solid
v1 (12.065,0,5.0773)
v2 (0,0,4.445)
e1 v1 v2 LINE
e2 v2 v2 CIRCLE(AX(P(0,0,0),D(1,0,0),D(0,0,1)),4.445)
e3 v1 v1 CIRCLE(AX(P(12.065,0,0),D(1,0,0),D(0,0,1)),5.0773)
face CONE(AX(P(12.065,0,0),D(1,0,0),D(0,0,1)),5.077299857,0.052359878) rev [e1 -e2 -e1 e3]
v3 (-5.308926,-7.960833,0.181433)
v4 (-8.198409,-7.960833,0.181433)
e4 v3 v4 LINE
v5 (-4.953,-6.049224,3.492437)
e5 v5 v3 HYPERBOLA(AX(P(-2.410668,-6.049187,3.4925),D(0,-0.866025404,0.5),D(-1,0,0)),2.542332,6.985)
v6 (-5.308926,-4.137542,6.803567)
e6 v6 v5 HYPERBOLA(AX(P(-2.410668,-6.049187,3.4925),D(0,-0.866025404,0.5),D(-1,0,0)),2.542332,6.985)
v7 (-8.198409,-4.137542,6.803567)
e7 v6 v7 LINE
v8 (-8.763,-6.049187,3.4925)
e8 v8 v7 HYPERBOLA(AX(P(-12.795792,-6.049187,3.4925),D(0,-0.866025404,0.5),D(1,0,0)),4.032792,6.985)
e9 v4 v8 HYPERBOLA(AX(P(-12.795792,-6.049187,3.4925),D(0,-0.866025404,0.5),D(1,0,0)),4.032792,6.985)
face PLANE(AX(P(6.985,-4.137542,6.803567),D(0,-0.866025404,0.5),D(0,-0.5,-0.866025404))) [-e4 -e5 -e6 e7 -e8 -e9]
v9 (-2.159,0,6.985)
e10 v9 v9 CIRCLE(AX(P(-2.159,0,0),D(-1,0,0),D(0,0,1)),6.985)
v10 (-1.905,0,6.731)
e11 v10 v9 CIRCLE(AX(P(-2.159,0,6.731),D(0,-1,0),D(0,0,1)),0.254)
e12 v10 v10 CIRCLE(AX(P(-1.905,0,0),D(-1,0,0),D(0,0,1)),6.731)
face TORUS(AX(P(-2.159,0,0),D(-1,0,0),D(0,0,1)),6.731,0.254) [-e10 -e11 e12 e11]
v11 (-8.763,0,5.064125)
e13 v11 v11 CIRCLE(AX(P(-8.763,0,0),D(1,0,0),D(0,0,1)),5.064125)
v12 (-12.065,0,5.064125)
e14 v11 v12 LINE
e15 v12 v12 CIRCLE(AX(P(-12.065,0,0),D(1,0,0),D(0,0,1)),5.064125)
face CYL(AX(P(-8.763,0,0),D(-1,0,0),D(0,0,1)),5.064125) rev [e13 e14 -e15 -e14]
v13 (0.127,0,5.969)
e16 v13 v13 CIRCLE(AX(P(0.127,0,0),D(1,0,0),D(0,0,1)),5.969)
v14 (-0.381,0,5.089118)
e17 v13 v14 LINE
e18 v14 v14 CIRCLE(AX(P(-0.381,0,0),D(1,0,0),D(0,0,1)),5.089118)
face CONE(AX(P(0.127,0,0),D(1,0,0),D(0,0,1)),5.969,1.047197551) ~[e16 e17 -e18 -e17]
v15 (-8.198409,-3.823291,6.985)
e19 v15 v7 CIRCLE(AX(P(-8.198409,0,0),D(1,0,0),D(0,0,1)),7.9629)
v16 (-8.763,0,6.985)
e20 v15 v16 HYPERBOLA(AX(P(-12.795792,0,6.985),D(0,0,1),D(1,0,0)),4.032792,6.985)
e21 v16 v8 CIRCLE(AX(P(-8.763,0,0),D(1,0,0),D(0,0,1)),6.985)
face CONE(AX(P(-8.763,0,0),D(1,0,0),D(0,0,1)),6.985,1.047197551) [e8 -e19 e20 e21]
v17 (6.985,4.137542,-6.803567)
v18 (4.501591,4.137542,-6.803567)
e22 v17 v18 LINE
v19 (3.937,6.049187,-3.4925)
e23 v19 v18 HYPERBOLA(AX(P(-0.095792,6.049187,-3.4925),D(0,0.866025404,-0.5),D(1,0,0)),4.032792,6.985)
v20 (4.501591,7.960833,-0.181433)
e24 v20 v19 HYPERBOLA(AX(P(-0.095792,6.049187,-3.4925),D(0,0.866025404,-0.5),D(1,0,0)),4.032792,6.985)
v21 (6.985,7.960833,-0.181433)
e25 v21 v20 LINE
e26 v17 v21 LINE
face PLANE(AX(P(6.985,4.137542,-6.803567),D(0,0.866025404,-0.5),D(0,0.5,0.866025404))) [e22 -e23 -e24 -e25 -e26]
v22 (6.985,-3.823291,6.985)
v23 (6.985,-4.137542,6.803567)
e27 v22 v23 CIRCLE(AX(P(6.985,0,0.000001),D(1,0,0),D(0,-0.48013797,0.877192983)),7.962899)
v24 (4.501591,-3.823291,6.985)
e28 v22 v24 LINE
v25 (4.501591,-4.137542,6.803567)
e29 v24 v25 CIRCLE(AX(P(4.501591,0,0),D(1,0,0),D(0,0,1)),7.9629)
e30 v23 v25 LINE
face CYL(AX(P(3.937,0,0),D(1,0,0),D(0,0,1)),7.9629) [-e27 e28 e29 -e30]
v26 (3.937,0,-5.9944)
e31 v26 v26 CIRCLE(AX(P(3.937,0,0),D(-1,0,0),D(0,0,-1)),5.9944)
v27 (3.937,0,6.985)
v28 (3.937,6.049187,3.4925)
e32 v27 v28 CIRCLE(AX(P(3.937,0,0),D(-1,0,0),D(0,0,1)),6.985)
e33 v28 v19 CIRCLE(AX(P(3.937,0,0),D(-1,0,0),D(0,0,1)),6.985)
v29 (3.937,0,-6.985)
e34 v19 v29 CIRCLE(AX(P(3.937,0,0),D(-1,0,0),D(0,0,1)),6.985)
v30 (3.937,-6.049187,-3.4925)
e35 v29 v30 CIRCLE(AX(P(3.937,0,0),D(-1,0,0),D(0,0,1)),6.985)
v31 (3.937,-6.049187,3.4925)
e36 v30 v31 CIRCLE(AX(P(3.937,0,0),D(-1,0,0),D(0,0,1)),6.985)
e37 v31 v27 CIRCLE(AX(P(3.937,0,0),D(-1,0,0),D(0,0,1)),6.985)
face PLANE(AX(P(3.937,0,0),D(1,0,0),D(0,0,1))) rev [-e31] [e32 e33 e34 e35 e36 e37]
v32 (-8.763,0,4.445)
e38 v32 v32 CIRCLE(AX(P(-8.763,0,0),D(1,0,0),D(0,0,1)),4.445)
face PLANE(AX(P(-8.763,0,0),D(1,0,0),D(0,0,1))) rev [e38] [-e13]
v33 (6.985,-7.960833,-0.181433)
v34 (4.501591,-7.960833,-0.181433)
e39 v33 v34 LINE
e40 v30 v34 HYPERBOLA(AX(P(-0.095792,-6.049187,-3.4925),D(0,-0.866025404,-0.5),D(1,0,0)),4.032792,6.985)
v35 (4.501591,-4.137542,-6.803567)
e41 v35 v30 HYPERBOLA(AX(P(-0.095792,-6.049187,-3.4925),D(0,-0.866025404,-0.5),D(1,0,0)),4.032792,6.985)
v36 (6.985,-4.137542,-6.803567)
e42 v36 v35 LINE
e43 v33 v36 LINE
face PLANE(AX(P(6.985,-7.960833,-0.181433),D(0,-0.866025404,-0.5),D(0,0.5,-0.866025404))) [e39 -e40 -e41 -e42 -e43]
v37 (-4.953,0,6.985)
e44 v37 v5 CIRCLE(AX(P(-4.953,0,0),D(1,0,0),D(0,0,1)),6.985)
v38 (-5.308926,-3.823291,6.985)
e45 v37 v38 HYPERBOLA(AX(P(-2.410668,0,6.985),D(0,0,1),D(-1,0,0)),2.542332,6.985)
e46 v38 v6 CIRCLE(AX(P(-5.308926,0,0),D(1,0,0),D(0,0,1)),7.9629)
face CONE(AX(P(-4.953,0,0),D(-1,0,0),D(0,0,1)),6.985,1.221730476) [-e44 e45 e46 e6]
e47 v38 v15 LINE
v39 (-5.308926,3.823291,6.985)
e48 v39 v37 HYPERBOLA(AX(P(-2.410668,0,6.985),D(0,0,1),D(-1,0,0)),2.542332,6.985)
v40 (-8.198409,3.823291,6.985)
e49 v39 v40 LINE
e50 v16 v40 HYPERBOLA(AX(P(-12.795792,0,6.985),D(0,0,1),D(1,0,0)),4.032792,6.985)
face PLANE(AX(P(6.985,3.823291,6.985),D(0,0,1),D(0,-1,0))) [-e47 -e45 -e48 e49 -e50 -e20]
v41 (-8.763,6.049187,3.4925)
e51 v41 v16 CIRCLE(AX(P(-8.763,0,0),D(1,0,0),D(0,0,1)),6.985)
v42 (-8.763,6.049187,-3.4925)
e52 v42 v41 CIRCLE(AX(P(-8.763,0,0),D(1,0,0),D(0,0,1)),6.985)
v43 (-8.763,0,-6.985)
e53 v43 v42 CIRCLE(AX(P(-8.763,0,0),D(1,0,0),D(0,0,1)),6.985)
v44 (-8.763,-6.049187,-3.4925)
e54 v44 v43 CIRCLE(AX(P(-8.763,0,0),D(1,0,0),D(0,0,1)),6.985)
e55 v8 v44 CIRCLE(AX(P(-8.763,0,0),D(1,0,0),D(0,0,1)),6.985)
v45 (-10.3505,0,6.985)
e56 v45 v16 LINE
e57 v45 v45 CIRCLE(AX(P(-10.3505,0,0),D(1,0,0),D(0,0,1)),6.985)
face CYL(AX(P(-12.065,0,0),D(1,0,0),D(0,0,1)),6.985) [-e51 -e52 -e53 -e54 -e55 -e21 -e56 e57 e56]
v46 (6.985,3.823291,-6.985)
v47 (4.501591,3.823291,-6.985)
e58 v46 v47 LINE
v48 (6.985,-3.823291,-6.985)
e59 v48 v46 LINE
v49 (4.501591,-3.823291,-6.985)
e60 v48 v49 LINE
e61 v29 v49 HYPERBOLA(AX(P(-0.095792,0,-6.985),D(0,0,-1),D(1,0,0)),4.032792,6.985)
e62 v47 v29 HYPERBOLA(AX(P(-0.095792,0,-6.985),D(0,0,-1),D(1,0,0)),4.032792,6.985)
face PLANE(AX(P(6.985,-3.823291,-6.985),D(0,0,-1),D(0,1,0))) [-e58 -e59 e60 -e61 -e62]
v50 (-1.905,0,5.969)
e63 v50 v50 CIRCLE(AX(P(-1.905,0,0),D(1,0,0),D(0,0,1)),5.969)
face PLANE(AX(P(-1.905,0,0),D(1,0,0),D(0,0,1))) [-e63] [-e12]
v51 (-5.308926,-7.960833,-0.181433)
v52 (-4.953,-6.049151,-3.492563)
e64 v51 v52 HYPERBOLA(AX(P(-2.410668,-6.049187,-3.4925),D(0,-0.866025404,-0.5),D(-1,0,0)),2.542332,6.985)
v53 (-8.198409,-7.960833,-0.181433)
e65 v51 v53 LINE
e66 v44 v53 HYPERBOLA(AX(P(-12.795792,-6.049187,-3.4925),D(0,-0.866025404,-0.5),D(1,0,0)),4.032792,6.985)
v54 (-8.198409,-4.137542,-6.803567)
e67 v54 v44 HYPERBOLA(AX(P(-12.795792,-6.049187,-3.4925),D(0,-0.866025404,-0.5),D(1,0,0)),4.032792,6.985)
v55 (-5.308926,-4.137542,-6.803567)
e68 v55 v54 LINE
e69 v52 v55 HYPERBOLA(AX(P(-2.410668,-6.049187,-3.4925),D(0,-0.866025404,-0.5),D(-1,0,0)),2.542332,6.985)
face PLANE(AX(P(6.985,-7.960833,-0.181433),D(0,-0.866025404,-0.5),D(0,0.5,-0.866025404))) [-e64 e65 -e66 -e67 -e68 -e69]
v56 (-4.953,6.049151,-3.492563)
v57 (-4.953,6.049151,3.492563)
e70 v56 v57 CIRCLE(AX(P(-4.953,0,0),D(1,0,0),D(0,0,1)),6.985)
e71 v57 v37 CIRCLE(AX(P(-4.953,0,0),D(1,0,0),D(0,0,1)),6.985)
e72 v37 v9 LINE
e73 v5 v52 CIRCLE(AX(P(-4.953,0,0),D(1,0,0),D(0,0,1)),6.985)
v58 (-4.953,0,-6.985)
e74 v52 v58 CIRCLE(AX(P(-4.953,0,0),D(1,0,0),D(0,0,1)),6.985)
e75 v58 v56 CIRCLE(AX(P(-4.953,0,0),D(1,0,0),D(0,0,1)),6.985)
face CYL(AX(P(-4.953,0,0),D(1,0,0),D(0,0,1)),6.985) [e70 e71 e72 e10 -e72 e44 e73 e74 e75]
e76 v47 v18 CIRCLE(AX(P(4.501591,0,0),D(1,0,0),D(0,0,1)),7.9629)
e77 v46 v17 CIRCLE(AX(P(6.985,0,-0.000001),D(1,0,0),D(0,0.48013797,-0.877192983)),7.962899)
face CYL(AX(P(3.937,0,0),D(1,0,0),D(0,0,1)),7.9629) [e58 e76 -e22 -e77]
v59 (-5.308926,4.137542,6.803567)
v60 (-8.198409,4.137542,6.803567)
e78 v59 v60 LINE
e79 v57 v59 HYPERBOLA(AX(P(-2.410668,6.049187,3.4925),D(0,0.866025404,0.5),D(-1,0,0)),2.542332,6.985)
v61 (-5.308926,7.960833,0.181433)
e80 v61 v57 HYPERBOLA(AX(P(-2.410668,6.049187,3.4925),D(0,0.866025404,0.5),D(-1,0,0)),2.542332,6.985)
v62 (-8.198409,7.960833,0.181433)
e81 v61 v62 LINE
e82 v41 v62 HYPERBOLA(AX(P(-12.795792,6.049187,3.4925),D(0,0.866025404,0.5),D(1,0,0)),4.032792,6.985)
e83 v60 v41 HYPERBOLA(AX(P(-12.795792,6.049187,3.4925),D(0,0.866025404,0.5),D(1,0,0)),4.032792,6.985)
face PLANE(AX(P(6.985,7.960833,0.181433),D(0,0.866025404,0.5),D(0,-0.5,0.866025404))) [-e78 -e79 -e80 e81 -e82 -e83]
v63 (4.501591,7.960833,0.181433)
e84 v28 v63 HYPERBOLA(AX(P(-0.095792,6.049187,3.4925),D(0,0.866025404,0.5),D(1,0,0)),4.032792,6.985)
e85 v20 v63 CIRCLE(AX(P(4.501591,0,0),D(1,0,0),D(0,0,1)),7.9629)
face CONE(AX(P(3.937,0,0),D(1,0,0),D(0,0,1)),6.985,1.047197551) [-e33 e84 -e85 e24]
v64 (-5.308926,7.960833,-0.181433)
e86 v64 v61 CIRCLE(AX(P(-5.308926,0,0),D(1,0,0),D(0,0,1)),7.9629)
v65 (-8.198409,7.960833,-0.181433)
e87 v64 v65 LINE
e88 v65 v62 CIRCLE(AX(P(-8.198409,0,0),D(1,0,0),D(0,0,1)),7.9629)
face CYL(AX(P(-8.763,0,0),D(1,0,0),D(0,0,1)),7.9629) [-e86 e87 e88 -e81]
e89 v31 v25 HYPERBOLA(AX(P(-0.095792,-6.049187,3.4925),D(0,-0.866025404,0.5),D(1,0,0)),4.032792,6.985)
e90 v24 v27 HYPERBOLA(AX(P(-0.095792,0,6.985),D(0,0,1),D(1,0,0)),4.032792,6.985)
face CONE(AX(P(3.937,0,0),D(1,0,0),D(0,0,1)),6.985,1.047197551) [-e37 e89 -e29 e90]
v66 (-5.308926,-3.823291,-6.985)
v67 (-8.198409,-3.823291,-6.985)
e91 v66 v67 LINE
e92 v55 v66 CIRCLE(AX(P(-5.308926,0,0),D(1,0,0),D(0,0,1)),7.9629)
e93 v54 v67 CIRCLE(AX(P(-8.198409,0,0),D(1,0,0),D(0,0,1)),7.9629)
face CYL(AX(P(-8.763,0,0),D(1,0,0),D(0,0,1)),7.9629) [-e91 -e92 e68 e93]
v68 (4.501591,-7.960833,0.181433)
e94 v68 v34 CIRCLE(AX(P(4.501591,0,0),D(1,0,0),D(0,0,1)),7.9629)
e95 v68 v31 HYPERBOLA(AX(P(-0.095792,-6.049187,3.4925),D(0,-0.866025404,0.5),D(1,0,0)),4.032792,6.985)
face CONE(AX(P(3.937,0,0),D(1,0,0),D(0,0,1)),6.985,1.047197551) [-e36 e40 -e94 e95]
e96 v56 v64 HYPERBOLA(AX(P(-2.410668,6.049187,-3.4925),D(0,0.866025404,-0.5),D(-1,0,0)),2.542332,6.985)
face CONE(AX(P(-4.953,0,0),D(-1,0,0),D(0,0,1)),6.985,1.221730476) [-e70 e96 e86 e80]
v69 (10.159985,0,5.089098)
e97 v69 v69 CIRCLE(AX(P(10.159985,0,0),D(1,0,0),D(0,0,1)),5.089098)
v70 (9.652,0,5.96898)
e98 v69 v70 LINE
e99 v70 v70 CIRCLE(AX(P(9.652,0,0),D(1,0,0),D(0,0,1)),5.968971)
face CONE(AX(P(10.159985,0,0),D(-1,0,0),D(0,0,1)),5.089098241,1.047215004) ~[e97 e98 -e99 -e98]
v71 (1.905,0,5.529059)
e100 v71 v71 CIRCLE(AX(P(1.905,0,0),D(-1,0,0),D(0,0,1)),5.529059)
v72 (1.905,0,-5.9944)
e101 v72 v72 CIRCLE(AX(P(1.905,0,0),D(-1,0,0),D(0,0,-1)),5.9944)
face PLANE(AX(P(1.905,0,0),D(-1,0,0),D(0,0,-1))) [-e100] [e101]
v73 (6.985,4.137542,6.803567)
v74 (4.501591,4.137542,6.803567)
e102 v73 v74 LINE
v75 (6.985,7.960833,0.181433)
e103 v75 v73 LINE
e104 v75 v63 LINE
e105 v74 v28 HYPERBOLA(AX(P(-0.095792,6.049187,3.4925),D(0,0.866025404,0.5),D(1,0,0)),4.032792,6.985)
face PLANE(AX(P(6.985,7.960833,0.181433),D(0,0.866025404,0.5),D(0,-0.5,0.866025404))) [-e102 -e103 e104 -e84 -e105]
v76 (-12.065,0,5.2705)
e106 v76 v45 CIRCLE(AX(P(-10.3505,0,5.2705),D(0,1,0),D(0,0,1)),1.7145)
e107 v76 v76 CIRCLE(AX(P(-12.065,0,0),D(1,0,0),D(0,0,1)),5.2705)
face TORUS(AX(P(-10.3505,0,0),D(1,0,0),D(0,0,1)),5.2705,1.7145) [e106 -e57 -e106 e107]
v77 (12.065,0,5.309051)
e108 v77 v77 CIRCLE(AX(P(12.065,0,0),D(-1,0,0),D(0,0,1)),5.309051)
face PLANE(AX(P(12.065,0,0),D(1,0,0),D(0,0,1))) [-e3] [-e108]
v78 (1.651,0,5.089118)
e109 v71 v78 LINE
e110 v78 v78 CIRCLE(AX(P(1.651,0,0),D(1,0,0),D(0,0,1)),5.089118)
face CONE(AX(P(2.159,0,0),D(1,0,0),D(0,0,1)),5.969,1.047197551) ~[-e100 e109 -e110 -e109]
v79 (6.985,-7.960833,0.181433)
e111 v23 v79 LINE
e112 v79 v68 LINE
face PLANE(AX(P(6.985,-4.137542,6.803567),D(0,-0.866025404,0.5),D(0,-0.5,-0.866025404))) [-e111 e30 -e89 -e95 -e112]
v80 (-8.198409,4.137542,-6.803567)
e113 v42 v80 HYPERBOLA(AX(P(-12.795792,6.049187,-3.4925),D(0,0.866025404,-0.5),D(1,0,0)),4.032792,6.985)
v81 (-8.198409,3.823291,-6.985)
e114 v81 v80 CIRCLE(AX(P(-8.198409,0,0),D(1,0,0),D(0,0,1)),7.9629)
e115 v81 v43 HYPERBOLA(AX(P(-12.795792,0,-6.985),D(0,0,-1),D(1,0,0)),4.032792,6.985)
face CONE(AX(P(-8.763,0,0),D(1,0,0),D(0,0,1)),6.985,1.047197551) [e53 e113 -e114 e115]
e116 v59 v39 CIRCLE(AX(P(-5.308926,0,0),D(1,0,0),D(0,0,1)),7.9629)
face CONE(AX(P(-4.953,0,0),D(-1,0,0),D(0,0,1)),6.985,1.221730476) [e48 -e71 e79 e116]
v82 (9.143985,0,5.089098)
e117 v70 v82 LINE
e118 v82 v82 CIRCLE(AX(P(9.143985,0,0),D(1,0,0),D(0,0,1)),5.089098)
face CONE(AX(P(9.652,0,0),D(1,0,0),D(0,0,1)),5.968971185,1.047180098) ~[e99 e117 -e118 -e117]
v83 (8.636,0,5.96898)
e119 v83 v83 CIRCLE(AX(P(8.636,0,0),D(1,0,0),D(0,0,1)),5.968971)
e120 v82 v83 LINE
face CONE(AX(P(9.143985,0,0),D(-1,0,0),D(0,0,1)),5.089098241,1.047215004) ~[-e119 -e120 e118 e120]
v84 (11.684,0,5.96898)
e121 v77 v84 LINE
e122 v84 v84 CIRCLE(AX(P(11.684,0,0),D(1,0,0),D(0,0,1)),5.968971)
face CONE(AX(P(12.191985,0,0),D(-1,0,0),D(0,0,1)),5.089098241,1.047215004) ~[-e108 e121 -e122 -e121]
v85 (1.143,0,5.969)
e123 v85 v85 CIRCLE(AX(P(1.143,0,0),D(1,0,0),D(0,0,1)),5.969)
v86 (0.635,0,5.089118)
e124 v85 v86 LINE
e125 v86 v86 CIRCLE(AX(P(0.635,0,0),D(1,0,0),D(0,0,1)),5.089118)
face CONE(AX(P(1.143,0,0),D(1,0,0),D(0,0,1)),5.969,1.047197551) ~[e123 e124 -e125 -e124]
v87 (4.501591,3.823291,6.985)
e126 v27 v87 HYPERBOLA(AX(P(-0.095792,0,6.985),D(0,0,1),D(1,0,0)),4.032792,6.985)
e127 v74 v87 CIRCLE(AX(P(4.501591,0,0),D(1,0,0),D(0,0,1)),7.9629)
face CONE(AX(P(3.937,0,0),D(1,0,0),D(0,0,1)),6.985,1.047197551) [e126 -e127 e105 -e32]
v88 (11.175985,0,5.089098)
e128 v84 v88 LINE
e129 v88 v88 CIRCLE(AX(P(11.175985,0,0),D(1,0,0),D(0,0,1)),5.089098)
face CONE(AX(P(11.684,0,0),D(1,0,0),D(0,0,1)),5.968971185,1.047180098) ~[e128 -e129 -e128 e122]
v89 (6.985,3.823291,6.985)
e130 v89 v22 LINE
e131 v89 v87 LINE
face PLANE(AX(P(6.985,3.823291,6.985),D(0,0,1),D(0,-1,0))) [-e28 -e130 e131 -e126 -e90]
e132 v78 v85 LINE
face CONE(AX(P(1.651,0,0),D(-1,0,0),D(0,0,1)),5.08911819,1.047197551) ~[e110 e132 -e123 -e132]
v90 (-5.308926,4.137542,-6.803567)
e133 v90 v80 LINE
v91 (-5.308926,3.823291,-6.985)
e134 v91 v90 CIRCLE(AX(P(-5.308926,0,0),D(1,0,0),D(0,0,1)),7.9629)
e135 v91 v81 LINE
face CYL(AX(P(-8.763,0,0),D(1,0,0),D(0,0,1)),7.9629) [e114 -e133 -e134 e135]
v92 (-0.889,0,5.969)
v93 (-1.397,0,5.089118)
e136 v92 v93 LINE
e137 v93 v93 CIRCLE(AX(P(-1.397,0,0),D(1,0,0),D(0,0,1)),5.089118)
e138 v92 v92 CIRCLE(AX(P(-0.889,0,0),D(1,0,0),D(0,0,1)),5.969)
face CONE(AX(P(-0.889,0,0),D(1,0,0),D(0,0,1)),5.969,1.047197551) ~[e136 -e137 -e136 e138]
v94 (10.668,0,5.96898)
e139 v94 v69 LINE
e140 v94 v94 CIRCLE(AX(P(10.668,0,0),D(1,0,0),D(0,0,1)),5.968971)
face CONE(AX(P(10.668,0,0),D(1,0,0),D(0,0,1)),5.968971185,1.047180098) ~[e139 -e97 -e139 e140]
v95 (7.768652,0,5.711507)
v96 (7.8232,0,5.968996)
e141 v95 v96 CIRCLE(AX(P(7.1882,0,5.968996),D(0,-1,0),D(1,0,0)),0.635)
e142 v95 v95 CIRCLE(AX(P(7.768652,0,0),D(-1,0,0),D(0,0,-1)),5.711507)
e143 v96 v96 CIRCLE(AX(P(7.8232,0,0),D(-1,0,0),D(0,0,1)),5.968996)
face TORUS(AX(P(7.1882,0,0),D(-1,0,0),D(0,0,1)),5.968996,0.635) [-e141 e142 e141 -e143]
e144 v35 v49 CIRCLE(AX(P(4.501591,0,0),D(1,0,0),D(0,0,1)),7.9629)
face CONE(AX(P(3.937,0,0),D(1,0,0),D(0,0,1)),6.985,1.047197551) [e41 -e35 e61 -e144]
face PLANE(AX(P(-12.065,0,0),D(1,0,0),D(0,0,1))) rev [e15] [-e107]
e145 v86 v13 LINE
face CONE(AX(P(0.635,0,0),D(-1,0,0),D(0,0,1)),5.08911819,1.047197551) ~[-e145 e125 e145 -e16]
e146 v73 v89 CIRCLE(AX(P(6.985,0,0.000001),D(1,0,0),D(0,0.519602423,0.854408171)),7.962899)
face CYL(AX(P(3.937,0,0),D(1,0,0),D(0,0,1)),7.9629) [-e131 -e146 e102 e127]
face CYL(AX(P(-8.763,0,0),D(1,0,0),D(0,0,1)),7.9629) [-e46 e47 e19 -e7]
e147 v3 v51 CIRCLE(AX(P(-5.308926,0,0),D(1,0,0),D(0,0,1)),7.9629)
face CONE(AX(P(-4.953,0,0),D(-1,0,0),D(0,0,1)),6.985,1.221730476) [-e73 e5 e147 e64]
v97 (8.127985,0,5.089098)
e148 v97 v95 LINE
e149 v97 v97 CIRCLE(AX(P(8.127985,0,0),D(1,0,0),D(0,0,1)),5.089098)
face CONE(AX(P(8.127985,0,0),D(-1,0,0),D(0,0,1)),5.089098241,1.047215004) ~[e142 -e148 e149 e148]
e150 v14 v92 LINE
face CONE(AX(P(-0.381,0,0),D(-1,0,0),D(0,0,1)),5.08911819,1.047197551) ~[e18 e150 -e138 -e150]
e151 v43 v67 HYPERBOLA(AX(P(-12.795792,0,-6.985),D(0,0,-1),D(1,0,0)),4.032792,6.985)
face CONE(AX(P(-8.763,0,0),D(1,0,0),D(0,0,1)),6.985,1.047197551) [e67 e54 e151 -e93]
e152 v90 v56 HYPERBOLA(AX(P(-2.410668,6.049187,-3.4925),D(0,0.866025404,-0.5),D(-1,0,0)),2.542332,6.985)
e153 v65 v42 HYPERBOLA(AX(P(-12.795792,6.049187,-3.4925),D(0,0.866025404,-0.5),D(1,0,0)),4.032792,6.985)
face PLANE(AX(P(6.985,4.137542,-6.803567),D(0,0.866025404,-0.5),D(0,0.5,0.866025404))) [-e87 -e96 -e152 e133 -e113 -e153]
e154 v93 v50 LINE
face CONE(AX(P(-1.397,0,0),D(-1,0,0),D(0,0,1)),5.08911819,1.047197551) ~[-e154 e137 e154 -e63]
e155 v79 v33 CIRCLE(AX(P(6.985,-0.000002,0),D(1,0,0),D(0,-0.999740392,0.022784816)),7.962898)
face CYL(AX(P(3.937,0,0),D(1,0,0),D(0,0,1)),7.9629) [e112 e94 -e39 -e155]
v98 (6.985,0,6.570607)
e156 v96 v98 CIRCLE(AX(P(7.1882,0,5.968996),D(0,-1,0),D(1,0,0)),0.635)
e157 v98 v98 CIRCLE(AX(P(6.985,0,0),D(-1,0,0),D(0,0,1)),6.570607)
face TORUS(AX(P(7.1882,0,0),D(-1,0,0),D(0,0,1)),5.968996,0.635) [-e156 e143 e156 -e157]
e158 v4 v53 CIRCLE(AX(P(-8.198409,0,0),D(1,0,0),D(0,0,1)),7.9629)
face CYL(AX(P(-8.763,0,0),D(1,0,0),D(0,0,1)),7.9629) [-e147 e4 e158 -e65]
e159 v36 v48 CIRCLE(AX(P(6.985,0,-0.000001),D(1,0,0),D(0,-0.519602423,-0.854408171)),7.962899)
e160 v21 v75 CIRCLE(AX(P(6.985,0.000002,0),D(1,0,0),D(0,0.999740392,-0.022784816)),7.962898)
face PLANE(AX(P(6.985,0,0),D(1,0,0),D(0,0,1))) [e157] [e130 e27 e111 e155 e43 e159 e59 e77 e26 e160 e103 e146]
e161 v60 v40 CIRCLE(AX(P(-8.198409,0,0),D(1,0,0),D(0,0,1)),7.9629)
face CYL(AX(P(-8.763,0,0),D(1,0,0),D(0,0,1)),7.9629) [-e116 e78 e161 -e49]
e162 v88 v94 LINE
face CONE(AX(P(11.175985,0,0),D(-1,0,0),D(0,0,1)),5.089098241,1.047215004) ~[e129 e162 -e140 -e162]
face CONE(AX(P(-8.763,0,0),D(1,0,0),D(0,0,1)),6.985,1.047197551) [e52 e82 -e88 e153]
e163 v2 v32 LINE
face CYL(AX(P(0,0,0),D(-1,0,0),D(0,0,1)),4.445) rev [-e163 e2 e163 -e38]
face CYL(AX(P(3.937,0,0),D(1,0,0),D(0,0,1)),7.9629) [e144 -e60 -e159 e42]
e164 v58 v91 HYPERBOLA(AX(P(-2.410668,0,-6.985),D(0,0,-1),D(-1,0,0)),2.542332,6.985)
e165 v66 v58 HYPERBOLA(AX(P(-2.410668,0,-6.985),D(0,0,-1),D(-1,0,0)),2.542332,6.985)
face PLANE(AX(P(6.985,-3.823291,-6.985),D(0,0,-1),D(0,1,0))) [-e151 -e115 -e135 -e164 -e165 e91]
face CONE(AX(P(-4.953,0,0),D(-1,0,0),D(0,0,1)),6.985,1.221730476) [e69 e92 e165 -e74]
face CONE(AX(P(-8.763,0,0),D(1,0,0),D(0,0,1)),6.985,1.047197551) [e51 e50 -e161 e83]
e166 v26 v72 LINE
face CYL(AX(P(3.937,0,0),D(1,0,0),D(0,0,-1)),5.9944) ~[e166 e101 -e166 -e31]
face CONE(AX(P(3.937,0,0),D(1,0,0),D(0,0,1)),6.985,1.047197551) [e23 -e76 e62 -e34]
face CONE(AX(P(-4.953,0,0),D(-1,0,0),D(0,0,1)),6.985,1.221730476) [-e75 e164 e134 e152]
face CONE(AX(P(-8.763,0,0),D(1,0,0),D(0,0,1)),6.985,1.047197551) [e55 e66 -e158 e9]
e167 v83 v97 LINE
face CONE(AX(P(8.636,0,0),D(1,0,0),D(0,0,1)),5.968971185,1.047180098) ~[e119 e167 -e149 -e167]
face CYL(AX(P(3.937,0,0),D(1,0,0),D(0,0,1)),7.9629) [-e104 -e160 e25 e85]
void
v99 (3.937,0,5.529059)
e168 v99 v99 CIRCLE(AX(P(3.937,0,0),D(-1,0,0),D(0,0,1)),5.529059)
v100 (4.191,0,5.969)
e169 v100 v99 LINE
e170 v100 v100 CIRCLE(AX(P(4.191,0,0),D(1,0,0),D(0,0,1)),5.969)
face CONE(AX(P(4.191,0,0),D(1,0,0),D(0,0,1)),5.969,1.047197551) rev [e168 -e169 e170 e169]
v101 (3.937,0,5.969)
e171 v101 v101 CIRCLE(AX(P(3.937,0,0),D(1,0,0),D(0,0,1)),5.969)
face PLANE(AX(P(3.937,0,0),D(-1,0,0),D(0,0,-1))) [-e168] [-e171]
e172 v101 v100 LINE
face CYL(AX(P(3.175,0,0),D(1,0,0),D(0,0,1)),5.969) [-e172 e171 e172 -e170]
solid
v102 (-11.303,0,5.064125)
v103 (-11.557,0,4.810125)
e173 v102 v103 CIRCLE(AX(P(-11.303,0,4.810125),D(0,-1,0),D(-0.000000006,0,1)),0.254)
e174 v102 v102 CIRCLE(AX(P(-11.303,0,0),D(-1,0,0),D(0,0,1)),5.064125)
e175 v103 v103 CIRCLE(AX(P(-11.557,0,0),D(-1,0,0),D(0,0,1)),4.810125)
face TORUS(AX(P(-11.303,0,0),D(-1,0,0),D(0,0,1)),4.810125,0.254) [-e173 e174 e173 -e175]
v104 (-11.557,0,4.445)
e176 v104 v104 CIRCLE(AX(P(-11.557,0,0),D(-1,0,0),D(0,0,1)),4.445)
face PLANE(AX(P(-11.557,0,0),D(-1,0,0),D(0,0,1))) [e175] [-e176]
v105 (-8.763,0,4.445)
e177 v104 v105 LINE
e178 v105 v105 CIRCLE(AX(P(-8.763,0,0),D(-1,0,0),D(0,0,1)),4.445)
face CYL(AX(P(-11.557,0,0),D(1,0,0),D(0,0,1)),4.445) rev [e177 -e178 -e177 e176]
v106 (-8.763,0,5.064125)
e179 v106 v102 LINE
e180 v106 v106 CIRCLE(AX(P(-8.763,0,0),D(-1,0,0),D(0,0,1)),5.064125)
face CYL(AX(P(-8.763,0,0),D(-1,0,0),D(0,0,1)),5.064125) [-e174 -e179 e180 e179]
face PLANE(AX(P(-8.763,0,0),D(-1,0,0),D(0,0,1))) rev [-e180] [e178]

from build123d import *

# Parameters (mm, degrees)
SKETCH6_OUTSIDE_W  = 24.528
SKETCH6_OUTSIDE_H  = 24.528
CUT_EXTRUDE2_DEPTH = 15.748
SKETCH7_OUTSIDE_W  = 31.19
SKETCH7_OUTSIDE_H  = 33.146
SKETCH7_OUTSIDE_R  = 6.985
CUT_EXTRUDE3_DEPTH = 2.54
CUT_EXTRUDE3_DRAFT = -60
SKETCH8_OUTSIDE_W  = 36.35
SKETCH8_OUTSIDE_H  = 38.306
SKETCH8_OUTSIDE_R  = 6.985
CUT_EXTRUDE4_DEPTH = 2.54
CUT_EXTRUDE4_DRAFT = -70
SKETCH9_OUTSIDE_W  = 54.012
SKETCH9_OUTSIDE_H  = 55.968
SKETCH9_OUTSIDE_R  = 6.985
CUT_EXTRUDE5_DEPTH = 9.128
CUT_EXTRUDE5_DRAFT = -60
FILLET1_R          = 1.7145
LPATTERN1_COUNT    = 6
LPATTERN1_PITCH    = 1.016
LPATTERN2_COUNT    = 5
LPATTERN2_PITCH    = 1.016
SKETCH16_R         = 5.9944
SKETCH16_R_2       = 5.077299857
EXTRUDE4_DEPTH     = 2.032
FILLET5_R          = 0.254
SKETCH18_R         = 0.635


with BuildPart() as part:
    # Sketch2 → Revolve1 (revolve)
    with BuildSketch(Plane.XY, mode=Mode.PRIVATE) as revolve1_sk:
        Polygon((-12.065, 5.064125), (-12.065, 6.985), (-8.763, 6.985), (-8.763, 7.9629), (-4.953, 7.9629), (-4.953, 6.985), (-1.905, 6.985), (-1.905, 5.969), (3.937, 5.969), (3.937, 7.9629), (6.985, 7.9629), (6.985, 5.969), (12.065, 5.968911337), (12.065, 5.077299857), (0, 4.445), (-8.763, 4.445), (-8.763, 5.064125), align=None)
    revolve(revolve1_sk.sketch.rotate(Axis((-69.075133251, 0, 0), (1, 0, 0)), 90), axis=Axis((-69.075133251, 0, 0), (1, 0, 0)))  # turned: the seam where the file's is

    # Sketch6 outside → Cut-Extrude2 (cut)
    with BuildSketch(Plane(origin=(6.985, 0, 0), x_dir=(0, 0, -1), z_dir=(1, 0, 0))):
        Rectangle(SKETCH6_OUTSIDE_W, SKETCH6_OUTSIDE_H)
        with BuildLine():
            Line((6.985, -3.823290652), (6.985, 3.823290652))
            ThreePointArc((6.985, 3.823290652), (6.896073688, 3.98145), (6.803566831, 4.137542119))
            Line((6.803566831, 4.137542119), (0.181433169, 7.960832771))
            ThreePointArc((0.181433169, 7.960832771), (0, 7.9629), (-0.181433169, 7.960832771))
            Line((-0.181433169, 7.960832771), (-6.803566831, 4.137542119))
            ThreePointArc((-6.803566831, 4.137542119), (-6.896073688, 3.98145), (-6.985, 3.823290652))
            Line((-6.985, 3.823290652), (-6.985, -3.823290652))
            ThreePointArc((-6.985, -3.823290652), (-6.896073688, -3.98145), (-6.803566831, -4.137542119))
            Line((-6.803566831, -4.137542119), (-0.181433169, -7.960832771))
            ThreePointArc((-0.181433169, -7.960832771), (0, -7.9629), (0.181433169, -7.960832771))
            Line((0.181433169, -7.960832771), (6.803566831, -4.137542119))
            ThreePointArc((6.803566831, -4.137542119), (6.896073688, -3.98145), (6.985, -3.823290652))
        make_face(mode=Mode.SUBTRACT)
    extrude(amount=-CUT_EXTRUDE2_DEPTH, mode=Mode.SUBTRACT)


with BuildPart() as cut_extrude3_tool:
    # Sketch7 outside → Cut-Extrude3 (with draft: the straight prism first)
    with BuildSketch(Plane.ZY.offset(8.763)):
        Rectangle(SKETCH7_OUTSIDE_W, SKETCH7_OUTSIDE_H)
        Circle(SKETCH7_OUTSIDE_R, mode=Mode.SUBTRACT)
    extrude(amount=-CUT_EXTRUDE3_DEPTH)
    # Cut-Extrude3: the draft: its side faces are tilted about the plane it starts from
    cut_extrude3_sides = [cut_extrude3_tool.faces().sort_by_distance(p)[0] for p in [
        (-7.493, -16.573, 0),
        (-7.493, 0, 15.595),
        (-7.493, 16.573, 0),
        (-7.493, 0, -15.595),
        (-7.493, 0, -6.985),
    ]]
    draft(cut_extrude3_sides, Plane.ZY.offset(8.763), CUT_EXTRUDE3_DRAFT)


with BuildPart() as part_1:
    add(part.part)

    # Cut-Extrude3: cut by cut_extrude3_tool
    add(cut_extrude3_tool.part, mode=Mode.SUBTRACT)


with BuildPart() as cut_extrude4_tool:
    # Sketch8 outside → Cut-Extrude4 (with draft: the straight prism first)
    with BuildSketch(Plane(origin=(-4.953, 0, 0), x_dir=(0, 0, -1), z_dir=(1, 0, 0))):
        Rectangle(SKETCH8_OUTSIDE_W, SKETCH8_OUTSIDE_H)
        with Locations(Location((0, 0, 0), (0, 0, 180))):  # turned: the seam where the file's is
            Circle(SKETCH8_OUTSIDE_R, mode=Mode.SUBTRACT)
    extrude(amount=-CUT_EXTRUDE4_DEPTH)
    # Cut-Extrude4: the draft: its side faces are tilted about the plane it starts from
    cut_extrude4_sides = [cut_extrude4_tool.faces().sort_by_distance(p)[0] for p in [
        (-6.223, -19.153, 0),
        (-6.223, 0, -18.175),
        (-6.223, 19.153, 0),
        (-6.223, 0, 18.175),
        (-6.223, 0, -6.985),
    ]]
    draft(cut_extrude4_sides, Plane(origin=(-4.953, 0, 0), x_dir=(0, 0, -1), z_dir=(1, 0, 0)), CUT_EXTRUDE4_DRAFT)


with BuildPart() as part_2:
    add(part_1.part)

    # Cut-Extrude4: cut by cut_extrude4_tool
    add(cut_extrude4_tool.part, mode=Mode.SUBTRACT)


with BuildPart() as cut_extrude5_tool:
    # Sketch9 outside → Cut-Extrude5 (with draft: the straight prism first)
    with BuildSketch(Plane.ZY.offset(-3.937)):
        Rectangle(SKETCH9_OUTSIDE_W, SKETCH9_OUTSIDE_H)
        Circle(SKETCH9_OUTSIDE_R, mode=Mode.SUBTRACT)
    extrude(amount=-CUT_EXTRUDE5_DEPTH)
    # Cut-Extrude5: the draft: its side faces are tilted about the plane it starts from
    cut_extrude5_sides = [cut_extrude5_tool.faces().sort_by_distance(p)[0] for p in [
        (8.501, -27.984, 0),
        (8.501, 0, 27.006),
        (8.501, 27.984, 0),
        (8.501, 0, -27.006),
        (8.501, 0, -6.985),
    ]]
    draft(cut_extrude5_sides, Plane.ZY.offset(-3.937), CUT_EXTRUDE5_DRAFT)


with BuildPart() as part_3:
    add(part_2.part)

    # Cut-Extrude5: cut by cut_extrude5_tool
    add(cut_extrude5_tool.part, mode=Mode.SUBTRACT)

    # Fillet1
    fillet1_edges = [part_3.edges().sort_by_distance(p)[0] for p in [
        (-12.065, 0, -6.985),
    ]]
    fillet(fillet1_edges, radius=FILLET1_R)

    # Sketch13 → Cut-Revolve1 (revolve, cut)
    with BuildSketch(Plane.XY, mode=Mode.PRIVATE) as cut_revolve1_sk:
        Polygon((-1.905, 5.969), (-0.889, 5.969), (-1.397, 5.08911819), align=None)
    cut_revolve1 = revolve(cut_revolve1_sk.sketch.rotate(Axis((-15.434011776, 0, 0), (1, 0, 0)), 90), axis=Axis((-15.434011776, 0, 0), (1, 0, 0)), mode=Mode.SUBTRACT)  # turned: the seam where the file's is

    # LPattern1: Cut-Revolve1 ×6
    with Locations(*[(i * LPATTERN1_PITCH, 0, 0) for i in range(1, LPATTERN1_COUNT)]):
        add(cut_revolve1, mode=Mode.SUBTRACT)

    # Sketch14 → Cut-Revolve2 (revolve, cut)
    with BuildSketch(Plane.XY, mode=Mode.PRIVATE) as cut_revolve2_sk:
        Polygon((7.62, 5.968988917), (8.636, 5.968971185), (8.127984643, 5.089098241), align=None)
    cut_revolve2 = revolve(cut_revolve2_sk.sketch.rotate(Axis((-13.79514925, 0, 0), (1, 0, 0)), 90), axis=Axis((-13.79514925, 0, 0), (1, 0, 0)), mode=Mode.SUBTRACT)  # turned: the seam where the file's is

    # LPattern2: Cut-Revolve2 ×5
    with Locations(*[(i * LPATTERN2_PITCH, 0, 0) for i in range(1, LPATTERN2_COUNT)]):
        add(cut_revolve2, mode=Mode.SUBTRACT)

    # Sketch16 → Extrude4 (add)
    with BuildSketch(Plane.ZY.offset(-3.937)):
        with Locations(Location((0, 0, 0), (0, 0, 180))):  # turned: the seam where the file's is
            Circle(SKETCH16_R)
        Circle(SKETCH16_R_2, mode=Mode.SUBTRACT)
    extrude(amount=EXTRUDE4_DEPTH)

    # Fillet5
    fillet5_edges = [part_3.edges().sort_by_distance(p)[0] for p in [
        (-1.905, 0, -6.985),
    ]]
    fillet(fillet5_edges, radius=FILLET5_R)

    # Sketch18 → Revolve4 (revolve)
    with BuildSketch(Plane.XY, mode=Mode.PRIVATE) as revolve4_sk:
        with Locations((7.1882, 5.968996453)):
            Circle(SKETCH18_R)
    revolve(revolve4_sk.sketch.rotate(Axis((19.121197091, 0, 0), (-1, 0, 0)), 270), axis=Axis((19.121197091, 0, 0), (-1, 0, 0)))  # turned: the seam where the file's is


with BuildPart() as body_2:
    # Sketch12 → Revolve3 (revolve)
    with BuildSketch(Plane.XY, mode=Mode.PRIVATE) as revolve3_sk:
        with BuildLine():
            Line((-8.763, 4.445), (-8.763, 5.064125))
            Line((-8.763, 5.064125), (-11.303, 5.064125))
            ThreePointArc((-11.303, 5.064125), (-11.482605122, 4.989730122), (-11.557, 4.810125))
            Line((-11.557, 4.810125), (-11.557, 4.445))
            Line((-11.557, 4.445), (-8.763, 4.445))
        make_face()
    revolve(revolve3_sk.sketch.rotate(Axis((13.84956521, 0, 0), (-1, 0, 0)), 270), axis=Axis((13.84956521, 0, 0), (-1, 0, 0)))  # turned: the seam where the file's is


solid = Compound([part_3.part, body_2.part])
